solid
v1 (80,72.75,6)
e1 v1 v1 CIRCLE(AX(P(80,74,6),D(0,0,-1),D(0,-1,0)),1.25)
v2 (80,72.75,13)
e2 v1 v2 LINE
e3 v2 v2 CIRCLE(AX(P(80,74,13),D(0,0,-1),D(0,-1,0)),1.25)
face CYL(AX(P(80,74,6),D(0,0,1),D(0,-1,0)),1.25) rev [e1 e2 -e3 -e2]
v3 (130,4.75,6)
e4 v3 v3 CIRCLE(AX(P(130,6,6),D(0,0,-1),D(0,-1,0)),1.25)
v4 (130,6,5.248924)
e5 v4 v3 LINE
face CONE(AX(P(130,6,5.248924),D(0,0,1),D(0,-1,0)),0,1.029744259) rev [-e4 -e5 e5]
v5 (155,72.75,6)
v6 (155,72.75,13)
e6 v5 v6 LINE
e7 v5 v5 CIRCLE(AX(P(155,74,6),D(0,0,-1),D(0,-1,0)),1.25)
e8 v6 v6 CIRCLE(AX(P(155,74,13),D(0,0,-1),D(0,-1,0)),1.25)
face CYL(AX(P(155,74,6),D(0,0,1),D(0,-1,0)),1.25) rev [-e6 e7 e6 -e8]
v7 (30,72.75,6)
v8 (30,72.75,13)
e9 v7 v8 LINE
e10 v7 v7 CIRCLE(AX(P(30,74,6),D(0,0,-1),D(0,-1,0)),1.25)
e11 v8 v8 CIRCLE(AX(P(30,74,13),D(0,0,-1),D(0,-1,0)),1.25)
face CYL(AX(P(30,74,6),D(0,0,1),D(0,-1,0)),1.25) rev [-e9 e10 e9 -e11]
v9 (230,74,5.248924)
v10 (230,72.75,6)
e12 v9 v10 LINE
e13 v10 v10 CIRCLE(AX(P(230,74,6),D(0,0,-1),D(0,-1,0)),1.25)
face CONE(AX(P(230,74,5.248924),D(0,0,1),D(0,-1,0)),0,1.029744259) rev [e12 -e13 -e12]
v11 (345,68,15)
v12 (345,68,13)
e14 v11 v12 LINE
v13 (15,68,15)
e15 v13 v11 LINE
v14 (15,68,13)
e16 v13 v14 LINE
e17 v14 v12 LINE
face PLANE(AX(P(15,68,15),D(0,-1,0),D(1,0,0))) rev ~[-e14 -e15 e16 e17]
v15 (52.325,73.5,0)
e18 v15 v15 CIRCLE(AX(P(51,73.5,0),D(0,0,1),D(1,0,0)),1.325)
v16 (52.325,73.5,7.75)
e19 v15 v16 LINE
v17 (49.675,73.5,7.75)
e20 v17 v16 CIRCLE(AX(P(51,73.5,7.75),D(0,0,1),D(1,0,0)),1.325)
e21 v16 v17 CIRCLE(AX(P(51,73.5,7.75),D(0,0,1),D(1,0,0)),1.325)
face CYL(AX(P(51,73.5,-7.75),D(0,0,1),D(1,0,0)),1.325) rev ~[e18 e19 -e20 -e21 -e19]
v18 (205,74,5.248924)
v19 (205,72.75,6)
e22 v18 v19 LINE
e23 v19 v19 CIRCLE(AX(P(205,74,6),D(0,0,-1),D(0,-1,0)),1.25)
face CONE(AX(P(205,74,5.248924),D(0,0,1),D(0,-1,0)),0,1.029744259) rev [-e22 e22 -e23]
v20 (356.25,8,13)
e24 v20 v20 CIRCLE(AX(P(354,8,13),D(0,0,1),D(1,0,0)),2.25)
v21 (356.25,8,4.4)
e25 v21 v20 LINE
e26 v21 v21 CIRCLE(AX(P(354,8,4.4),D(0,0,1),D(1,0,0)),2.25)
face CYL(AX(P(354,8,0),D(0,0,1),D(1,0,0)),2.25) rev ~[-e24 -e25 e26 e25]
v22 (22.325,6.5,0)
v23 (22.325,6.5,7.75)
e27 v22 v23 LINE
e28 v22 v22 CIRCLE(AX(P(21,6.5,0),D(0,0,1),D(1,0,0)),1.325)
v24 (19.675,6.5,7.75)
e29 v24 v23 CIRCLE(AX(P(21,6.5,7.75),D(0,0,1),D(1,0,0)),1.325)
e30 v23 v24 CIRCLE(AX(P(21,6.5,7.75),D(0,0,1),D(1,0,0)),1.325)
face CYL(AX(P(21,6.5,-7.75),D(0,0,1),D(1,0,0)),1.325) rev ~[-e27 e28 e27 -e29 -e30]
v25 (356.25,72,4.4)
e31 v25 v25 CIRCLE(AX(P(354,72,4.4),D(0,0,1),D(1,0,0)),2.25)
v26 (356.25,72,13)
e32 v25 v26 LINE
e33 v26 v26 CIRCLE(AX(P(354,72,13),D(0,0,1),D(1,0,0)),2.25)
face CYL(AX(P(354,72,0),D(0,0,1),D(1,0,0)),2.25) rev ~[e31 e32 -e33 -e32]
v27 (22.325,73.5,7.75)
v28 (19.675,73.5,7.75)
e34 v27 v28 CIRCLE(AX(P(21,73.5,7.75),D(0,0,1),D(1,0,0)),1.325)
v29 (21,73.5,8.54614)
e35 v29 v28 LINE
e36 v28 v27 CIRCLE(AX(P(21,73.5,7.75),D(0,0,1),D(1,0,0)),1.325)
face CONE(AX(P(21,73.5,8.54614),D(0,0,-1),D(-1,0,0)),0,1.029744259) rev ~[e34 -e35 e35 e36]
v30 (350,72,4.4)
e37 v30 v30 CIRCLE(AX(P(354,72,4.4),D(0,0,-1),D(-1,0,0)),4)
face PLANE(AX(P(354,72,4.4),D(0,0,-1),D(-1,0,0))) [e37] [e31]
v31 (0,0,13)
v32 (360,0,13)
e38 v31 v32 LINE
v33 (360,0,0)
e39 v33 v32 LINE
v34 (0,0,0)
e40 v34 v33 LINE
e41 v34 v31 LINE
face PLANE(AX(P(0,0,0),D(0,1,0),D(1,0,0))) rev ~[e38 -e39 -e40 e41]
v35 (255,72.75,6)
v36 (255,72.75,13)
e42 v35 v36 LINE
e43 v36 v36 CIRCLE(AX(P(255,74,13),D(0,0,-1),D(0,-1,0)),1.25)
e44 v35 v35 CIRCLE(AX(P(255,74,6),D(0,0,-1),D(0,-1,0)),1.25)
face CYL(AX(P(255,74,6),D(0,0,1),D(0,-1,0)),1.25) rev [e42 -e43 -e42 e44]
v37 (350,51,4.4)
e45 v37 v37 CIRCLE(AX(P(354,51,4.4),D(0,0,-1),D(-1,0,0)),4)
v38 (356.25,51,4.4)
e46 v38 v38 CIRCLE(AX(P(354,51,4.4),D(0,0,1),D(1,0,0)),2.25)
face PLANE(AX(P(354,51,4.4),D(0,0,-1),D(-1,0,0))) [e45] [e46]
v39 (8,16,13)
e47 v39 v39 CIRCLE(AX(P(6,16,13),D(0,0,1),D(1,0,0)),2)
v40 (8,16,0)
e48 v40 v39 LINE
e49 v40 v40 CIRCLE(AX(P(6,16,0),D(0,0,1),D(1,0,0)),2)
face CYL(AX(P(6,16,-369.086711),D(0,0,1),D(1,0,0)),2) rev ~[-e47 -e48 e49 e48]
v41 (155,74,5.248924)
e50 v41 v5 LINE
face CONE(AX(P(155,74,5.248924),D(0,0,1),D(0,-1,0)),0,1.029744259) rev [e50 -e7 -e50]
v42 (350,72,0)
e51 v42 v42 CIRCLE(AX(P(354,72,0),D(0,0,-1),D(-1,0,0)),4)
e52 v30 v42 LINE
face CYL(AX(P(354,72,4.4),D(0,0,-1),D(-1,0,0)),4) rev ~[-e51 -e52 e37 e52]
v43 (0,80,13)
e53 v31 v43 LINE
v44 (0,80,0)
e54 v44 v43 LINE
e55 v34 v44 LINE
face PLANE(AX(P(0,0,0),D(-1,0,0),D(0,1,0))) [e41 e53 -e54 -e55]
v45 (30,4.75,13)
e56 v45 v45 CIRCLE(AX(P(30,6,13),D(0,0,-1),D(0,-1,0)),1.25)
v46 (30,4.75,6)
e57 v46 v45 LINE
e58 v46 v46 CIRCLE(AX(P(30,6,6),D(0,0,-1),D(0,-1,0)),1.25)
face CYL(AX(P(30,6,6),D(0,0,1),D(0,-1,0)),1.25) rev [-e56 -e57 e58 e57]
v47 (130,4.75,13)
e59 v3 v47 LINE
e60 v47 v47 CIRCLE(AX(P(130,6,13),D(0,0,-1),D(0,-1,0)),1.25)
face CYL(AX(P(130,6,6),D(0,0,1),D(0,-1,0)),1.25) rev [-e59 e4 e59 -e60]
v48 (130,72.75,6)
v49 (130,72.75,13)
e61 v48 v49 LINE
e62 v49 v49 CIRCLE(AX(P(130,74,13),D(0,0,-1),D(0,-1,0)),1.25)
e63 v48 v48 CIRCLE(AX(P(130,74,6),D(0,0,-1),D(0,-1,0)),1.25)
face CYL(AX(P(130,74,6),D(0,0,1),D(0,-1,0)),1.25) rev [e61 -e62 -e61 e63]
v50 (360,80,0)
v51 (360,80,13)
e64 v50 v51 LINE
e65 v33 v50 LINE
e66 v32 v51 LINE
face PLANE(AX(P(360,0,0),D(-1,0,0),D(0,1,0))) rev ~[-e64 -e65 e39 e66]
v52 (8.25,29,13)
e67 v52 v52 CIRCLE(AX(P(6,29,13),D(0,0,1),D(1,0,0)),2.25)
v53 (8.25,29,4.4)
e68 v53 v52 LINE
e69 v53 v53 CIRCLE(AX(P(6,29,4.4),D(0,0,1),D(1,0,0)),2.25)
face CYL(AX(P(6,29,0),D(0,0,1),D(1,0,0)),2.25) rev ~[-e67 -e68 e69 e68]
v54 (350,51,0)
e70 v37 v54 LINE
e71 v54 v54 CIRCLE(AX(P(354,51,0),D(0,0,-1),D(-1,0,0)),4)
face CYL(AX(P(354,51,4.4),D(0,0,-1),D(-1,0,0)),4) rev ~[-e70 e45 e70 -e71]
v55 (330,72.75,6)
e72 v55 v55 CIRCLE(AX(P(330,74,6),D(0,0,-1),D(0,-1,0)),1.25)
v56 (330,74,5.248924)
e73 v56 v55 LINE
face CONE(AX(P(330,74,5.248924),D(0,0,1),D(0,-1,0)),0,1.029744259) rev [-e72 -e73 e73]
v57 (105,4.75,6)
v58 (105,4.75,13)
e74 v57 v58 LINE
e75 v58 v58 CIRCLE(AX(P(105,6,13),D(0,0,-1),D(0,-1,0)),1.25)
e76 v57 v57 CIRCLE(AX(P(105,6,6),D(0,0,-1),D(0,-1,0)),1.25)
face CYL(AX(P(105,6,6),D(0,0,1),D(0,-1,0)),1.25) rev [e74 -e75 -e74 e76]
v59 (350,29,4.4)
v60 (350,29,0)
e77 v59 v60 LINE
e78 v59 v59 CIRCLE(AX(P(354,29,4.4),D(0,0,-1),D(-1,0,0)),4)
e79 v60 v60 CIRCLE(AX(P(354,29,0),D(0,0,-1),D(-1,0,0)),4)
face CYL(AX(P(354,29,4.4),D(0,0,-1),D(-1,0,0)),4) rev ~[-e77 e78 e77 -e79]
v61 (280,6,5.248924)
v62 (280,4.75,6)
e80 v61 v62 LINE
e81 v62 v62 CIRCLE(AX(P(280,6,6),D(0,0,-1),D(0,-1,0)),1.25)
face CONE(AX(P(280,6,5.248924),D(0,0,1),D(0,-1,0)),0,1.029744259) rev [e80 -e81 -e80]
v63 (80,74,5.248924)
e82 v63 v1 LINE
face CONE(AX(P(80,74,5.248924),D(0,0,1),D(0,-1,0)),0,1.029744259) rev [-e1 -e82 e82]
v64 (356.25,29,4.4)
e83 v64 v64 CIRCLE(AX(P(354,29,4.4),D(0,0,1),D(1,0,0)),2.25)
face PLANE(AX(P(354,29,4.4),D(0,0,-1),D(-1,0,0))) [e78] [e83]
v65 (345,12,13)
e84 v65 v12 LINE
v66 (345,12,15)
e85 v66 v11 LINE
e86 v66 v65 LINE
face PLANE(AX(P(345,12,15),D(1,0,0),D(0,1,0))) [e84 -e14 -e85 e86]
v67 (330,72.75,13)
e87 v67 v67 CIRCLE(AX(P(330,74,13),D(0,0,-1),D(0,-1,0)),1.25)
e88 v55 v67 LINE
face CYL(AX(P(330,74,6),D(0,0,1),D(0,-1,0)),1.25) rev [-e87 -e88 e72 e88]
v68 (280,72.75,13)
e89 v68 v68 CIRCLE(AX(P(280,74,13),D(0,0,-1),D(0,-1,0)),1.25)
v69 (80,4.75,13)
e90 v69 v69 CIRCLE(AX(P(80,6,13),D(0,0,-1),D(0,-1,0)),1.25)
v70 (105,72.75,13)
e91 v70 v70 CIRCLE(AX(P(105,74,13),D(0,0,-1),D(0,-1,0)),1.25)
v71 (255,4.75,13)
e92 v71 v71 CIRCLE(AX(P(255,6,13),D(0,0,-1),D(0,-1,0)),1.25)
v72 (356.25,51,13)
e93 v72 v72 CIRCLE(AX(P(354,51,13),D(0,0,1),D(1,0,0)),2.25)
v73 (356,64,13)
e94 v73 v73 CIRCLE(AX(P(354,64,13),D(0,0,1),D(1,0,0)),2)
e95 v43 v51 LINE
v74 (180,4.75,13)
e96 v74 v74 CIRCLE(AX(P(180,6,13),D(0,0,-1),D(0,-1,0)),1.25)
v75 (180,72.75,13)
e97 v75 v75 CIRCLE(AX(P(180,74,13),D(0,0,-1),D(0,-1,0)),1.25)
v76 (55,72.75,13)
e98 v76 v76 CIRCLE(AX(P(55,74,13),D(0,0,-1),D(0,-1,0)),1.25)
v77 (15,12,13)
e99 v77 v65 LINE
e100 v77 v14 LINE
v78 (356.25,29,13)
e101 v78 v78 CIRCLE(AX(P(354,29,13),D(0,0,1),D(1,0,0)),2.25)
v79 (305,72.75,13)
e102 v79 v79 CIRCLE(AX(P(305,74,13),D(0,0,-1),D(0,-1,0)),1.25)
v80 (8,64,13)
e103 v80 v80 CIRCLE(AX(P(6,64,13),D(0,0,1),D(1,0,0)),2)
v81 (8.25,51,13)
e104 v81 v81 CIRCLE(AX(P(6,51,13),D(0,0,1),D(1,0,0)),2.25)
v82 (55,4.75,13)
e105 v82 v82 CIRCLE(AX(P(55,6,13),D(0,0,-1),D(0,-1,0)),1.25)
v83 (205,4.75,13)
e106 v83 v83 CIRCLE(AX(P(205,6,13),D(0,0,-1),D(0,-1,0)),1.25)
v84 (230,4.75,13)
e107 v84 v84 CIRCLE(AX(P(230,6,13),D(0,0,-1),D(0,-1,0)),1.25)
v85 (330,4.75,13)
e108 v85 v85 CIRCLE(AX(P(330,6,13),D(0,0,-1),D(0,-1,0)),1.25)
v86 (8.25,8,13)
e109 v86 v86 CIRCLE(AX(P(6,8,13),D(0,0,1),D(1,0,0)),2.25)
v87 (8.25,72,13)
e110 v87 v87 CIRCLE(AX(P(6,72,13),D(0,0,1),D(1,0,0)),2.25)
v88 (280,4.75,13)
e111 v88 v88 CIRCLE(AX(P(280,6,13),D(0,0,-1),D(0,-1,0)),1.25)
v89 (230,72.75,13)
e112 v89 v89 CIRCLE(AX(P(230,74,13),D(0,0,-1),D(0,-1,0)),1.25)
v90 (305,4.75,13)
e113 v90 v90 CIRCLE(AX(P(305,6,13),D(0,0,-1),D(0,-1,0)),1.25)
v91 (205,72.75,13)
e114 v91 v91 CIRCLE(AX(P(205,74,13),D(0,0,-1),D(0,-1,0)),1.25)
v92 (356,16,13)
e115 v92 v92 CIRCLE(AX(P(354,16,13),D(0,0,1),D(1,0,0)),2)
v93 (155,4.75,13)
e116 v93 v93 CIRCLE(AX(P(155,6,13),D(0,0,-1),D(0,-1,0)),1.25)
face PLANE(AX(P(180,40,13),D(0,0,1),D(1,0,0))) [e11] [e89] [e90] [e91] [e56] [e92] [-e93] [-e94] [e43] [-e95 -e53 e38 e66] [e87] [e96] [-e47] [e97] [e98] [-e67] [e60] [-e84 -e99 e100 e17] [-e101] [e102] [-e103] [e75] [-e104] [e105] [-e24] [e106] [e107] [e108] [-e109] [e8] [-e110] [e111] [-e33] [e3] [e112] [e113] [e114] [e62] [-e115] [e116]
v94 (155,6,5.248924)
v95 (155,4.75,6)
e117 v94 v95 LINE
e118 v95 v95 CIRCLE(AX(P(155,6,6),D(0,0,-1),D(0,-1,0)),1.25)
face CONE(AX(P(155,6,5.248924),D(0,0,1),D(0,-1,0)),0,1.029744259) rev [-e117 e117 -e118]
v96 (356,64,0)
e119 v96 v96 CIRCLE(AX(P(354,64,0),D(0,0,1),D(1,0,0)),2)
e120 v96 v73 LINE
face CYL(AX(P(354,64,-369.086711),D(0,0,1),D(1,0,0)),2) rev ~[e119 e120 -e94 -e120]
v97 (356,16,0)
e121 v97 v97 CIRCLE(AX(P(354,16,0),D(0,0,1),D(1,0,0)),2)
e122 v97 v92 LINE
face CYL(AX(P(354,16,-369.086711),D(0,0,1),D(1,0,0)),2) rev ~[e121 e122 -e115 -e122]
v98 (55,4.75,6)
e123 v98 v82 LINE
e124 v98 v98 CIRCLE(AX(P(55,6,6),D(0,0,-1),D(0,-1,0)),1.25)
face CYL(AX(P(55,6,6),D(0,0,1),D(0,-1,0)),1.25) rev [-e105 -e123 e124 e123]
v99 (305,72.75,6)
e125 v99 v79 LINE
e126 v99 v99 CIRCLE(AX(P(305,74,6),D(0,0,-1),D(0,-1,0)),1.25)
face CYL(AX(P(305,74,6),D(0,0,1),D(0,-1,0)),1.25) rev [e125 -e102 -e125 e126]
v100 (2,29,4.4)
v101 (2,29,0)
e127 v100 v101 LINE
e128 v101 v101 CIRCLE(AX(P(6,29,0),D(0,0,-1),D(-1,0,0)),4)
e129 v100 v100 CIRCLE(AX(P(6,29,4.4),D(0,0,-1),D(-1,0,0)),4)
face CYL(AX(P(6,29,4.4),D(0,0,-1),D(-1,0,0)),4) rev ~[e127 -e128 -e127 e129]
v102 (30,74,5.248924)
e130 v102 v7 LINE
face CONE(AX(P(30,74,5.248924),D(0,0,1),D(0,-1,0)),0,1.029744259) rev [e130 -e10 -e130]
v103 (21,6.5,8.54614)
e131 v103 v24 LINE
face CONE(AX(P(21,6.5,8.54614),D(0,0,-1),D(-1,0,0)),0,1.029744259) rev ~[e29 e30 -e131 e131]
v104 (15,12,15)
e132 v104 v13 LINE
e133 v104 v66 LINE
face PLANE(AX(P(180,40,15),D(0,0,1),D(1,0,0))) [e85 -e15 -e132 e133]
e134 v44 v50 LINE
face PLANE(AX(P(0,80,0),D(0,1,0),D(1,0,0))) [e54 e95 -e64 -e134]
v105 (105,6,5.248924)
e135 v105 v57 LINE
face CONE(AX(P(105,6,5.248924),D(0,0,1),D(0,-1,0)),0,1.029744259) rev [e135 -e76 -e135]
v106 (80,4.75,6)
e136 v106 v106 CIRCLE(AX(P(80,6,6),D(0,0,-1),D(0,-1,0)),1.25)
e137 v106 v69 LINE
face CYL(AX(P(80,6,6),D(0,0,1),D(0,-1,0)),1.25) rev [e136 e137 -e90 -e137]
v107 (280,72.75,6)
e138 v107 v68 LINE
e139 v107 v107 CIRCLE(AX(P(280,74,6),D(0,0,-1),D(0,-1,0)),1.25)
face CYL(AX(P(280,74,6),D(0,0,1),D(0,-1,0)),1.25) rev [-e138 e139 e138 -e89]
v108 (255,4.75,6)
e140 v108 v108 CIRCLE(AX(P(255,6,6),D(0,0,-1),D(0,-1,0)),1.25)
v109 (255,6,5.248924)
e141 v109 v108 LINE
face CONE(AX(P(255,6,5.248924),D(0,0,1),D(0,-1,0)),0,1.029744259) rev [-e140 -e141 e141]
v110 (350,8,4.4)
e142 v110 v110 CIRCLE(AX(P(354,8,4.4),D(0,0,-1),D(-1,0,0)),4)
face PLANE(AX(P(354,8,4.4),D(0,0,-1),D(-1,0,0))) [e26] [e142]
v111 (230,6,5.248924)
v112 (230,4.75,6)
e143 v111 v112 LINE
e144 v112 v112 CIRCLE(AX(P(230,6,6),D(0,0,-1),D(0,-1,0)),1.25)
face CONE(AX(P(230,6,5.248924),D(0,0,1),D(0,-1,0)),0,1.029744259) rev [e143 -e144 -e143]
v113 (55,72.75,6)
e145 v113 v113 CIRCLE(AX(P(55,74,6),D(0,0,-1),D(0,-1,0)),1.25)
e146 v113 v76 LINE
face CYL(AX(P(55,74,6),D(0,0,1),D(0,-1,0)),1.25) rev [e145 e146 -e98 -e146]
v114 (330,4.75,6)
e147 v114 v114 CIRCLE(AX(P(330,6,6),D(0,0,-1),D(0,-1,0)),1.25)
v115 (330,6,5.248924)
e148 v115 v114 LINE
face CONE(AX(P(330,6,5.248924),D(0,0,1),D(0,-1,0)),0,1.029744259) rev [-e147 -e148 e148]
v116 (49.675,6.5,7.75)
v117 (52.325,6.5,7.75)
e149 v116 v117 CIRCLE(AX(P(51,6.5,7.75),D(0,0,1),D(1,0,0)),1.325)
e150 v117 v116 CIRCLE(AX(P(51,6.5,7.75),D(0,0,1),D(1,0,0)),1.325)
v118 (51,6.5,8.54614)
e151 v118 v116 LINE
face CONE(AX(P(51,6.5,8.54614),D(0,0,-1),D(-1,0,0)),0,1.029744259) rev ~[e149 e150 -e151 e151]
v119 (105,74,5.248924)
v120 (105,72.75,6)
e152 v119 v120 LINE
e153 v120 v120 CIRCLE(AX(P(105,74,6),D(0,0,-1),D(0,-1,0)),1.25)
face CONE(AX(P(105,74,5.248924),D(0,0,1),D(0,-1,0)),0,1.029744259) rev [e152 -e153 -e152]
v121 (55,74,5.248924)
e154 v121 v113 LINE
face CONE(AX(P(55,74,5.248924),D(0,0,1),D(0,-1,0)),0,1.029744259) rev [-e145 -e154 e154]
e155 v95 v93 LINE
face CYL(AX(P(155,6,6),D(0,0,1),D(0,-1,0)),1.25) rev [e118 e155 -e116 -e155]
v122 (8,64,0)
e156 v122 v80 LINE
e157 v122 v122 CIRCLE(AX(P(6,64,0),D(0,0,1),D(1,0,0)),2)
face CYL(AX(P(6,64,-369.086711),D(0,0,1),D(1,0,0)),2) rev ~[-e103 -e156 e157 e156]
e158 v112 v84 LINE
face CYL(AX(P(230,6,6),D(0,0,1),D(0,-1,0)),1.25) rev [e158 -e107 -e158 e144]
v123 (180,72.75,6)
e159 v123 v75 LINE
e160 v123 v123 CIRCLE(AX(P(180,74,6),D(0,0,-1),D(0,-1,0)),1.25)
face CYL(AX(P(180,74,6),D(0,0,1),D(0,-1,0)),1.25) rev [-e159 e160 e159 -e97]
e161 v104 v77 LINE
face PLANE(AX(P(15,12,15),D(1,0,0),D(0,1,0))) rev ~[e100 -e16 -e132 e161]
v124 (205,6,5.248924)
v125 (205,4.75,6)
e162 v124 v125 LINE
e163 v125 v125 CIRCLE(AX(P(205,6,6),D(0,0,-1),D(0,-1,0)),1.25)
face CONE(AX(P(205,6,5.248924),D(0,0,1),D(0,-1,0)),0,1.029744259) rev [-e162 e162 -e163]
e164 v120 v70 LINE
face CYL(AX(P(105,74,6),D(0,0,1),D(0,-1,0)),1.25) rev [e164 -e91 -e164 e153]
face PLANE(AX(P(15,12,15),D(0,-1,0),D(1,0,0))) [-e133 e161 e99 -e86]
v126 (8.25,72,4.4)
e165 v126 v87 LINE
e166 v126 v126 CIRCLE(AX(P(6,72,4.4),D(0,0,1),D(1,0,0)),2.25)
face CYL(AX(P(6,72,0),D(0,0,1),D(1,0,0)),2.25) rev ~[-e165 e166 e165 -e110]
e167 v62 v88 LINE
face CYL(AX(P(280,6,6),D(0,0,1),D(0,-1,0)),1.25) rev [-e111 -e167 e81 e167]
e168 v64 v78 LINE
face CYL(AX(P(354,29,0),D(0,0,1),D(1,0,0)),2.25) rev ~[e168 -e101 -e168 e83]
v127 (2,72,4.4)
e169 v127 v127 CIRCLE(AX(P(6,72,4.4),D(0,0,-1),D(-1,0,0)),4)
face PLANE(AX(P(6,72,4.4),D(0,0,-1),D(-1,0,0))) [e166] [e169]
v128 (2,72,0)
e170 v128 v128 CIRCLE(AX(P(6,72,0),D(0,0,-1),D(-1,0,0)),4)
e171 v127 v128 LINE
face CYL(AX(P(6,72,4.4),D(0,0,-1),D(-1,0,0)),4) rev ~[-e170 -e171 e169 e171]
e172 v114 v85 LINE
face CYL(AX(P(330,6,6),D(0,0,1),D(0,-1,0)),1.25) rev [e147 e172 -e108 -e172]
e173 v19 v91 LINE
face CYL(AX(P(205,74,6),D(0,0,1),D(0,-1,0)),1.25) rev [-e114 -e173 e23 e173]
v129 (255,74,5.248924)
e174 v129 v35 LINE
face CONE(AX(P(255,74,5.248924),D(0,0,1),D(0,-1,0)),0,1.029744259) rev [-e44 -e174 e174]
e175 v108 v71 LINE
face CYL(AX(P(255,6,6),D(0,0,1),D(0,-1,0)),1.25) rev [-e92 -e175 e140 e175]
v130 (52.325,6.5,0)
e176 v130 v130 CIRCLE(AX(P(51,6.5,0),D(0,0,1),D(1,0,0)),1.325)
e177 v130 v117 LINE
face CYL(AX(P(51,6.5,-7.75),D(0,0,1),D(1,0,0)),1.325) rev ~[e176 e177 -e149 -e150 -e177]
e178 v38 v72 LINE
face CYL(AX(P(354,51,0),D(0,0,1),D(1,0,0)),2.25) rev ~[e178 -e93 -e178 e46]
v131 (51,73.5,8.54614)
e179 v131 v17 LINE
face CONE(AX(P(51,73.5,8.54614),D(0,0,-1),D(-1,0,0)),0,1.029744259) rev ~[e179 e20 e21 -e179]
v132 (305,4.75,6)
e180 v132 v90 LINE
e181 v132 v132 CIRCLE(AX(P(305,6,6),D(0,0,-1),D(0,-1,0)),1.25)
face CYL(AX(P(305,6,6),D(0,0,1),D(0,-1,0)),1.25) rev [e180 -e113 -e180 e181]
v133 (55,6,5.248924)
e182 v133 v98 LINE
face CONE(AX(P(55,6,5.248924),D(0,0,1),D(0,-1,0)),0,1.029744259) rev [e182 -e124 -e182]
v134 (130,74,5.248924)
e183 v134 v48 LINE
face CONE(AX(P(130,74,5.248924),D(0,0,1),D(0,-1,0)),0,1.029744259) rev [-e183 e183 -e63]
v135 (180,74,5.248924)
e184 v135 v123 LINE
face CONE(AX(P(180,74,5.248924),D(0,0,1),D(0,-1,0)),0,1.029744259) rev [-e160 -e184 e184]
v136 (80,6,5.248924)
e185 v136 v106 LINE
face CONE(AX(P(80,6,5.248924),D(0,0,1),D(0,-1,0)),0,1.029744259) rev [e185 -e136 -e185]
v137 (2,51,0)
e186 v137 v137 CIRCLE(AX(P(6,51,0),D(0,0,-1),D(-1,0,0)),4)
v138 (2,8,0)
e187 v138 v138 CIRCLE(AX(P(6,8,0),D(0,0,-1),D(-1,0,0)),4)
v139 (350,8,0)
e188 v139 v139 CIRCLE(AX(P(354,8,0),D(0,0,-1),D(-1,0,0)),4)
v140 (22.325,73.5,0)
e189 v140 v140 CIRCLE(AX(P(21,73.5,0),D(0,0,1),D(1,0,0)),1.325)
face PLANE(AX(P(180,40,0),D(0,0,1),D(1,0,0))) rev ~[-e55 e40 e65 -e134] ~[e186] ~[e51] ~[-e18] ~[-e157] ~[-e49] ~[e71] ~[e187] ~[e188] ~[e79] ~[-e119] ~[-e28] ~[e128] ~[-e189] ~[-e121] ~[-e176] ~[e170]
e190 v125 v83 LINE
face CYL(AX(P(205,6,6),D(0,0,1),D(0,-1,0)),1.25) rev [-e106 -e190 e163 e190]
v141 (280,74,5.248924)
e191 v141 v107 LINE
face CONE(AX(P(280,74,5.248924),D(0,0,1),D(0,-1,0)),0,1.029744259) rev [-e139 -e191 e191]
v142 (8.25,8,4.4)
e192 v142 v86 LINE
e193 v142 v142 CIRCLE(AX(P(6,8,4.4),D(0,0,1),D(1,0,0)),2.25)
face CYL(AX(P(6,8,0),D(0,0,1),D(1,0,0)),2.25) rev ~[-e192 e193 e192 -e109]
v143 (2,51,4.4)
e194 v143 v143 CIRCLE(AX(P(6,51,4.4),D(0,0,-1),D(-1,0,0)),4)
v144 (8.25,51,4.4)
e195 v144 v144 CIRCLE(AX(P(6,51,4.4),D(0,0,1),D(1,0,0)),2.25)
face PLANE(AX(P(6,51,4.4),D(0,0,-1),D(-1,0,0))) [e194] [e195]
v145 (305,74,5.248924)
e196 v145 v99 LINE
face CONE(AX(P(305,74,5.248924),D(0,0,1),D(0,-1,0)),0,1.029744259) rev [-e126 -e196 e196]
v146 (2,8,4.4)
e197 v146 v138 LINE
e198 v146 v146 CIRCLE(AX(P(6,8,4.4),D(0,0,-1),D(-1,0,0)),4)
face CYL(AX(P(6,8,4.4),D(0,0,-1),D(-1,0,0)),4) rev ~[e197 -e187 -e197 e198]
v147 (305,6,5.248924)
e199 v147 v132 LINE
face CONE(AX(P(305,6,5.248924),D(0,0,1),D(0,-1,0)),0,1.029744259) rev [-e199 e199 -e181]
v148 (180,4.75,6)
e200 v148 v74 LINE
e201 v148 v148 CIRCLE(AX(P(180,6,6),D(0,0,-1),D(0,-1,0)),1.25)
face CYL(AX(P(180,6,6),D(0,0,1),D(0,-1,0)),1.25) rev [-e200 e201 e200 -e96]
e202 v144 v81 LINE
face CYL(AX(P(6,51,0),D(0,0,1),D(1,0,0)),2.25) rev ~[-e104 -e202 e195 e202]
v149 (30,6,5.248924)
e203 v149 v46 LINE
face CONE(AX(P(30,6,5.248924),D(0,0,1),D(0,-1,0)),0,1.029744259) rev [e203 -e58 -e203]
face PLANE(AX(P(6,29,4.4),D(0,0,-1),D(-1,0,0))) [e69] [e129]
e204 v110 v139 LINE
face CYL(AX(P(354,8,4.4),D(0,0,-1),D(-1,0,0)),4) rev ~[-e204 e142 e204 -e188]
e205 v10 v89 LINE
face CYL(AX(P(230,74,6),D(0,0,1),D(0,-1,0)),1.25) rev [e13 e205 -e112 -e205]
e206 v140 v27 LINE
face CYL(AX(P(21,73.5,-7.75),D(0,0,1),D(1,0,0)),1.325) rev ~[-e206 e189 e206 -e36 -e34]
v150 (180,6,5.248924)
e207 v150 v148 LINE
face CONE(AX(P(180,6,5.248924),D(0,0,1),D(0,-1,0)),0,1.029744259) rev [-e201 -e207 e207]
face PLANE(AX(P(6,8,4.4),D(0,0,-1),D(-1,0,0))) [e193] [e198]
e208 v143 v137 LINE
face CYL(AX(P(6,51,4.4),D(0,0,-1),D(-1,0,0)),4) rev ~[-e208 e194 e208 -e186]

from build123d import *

# Parameters (mm, degrees)
CROQUIS1_W                                           = 360
CROQUIS1_H                                           = 80
SALIENTE_EXTRUIR1_DEPTH                              = 15
CROQUIS2_W                                           = 360
CROQUIS2_H                                           = 80
CROQUIS2_W_2                                         = 330
CROQUIS2_H_2                                         = 56
CORTAR_EXTRUIR1_DEPTH                                = 2
REFRENTADO_PARA_TORNILLO_CON_CABEZA_HUEC_D           = 4.5
REFRENTADO_PARA_TORNILLO_CON_CABEZA_HUEC_CBORE_D     = 8
REFRENTADO_PARA_TORNILLO_CON_CABEZA_HUEC_CBORE_DEPTH = 4.4
TALADROS_DE_ESPIGA_DE_4_0MM1_D                       = 4
TALADRO_ROSCADO_M3X0_351_D                           = 2.65
TALADRO_ROSCADO_M3X0_351_DEPTH                       = 7.75
TALADRO_ROSCADO_M3X0_351_TIP                         = 0.79614032
MATRIZL1_COUNT                                       = 13
MATRIZL1_PITCH                                       = 25
MATRIZL1_COUNT_DIR2                                  = 2
MATRIZL1_PITCH_DIR2                                  = 68


with BuildPart() as part:
    # Croquis1 → Saliente-Extruir1 (new body)
    with BuildSketch(Plane.XY):
        with Locations((180, 40)):
            Rectangle(CROQUIS1_W, CROQUIS1_H)
    extrude(amount=SALIENTE_EXTRUIR1_DEPTH)

    # Croquis2 → Cortar-Extruir1 (cut)
    with BuildSketch(Plane.XY.offset(15)):
        with Locations((180, 40)):
            Rectangle(CROQUIS2_W, CROQUIS2_H)
        with Locations((180, 40)):
            Rectangle(CROQUIS2_W_2, CROQUIS2_H_2, mode=Mode.SUBTRACT)
    extrude(amount=-CORTAR_EXTRUIR1_DEPTH, mode=Mode.SUBTRACT)

    # Croquis4 → Taladro roscado M31 (revolve, cut)
    with BuildSketch(Plane(origin=(30, 6, 13), x_dir=(0, -1, 0), z_dir=(1, 0, 0))):
        Polygon((0, 0), (0, 7.751075774), (1.25, 7), (1.25, 0), align=None)
    taladro_roscado_m31 = revolve(axis=Axis((30, 6, 19.35), (0, 0, -1)), mode=Mode.SUBTRACT)

    # Refrentado para tornillo con cabeza hueca de M41 (through all)
    with Locations(Plane(origin=(0, 0, 0), x_dir=(-1, 0, 0), z_dir=(0, 0, -1))):
        with Locations((-6, 72), (-6, 8), (-354, 72), (-354, 8), (-354, 51), (-354, 29), (-6, 51), (-6, 29)):
            CounterBoreHole(REFRENTADO_PARA_TORNILLO_CON_CABEZA_HUEC_D / 2, REFRENTADO_PARA_TORNILLO_CON_CABEZA_HUEC_CBORE_D / 2, REFRENTADO_PARA_TORNILLO_CON_CABEZA_HUEC_CBORE_DEPTH)

    # Taladros de espiga de Ø4.0mm1 (through all)
    with Locations(Plane(origin=(0, 0, 0), x_dir=(-1, 0, 0), z_dir=(0, 0, -1))):
        with Locations((-6, 64), (-6, 16), (-354, 64), (-354, 16)):
            Hole(TALADROS_DE_ESPIGA_DE_4_0MM1_D / 2)

    # Taladro roscado M3x0.351
    with Locations(Plane(origin=(0, 0, 0), x_dir=(-1, 0, 0), z_dir=(0, 0, -1))):
        with Locations((-21, 73.5), (-51, 73.5), (-51, 6.5), (-21, 6.5)):
            Hole(TALADRO_ROSCADO_M3X0_351_D / 2, depth=TALADRO_ROSCADO_M3X0_351_DEPTH)
            with Locations((0, 0, -(TALADRO_ROSCADO_M3X0_351_DEPTH + TALADRO_ROSCADO_M3X0_351_TIP / 2))):  # 118° drill point
                Cone(0, TALADRO_ROSCADO_M3X0_351_D / 2, TALADRO_ROSCADO_M3X0_351_TIP, mode=Mode.SUBTRACT)

    # MatrizL1: Taladro roscado M31 13 × 2
    with Locations(*[(i * MATRIZL1_PITCH, j * MATRIZL1_PITCH_DIR2, 0) for i in range(MATRIZL1_COUNT) for j in range(MATRIZL1_COUNT_DIR2) if (i, j) != (0, 0)]):
        add(taladro_roscado_m31, mode=Mode.SUBTRACT)


solid = part.part
